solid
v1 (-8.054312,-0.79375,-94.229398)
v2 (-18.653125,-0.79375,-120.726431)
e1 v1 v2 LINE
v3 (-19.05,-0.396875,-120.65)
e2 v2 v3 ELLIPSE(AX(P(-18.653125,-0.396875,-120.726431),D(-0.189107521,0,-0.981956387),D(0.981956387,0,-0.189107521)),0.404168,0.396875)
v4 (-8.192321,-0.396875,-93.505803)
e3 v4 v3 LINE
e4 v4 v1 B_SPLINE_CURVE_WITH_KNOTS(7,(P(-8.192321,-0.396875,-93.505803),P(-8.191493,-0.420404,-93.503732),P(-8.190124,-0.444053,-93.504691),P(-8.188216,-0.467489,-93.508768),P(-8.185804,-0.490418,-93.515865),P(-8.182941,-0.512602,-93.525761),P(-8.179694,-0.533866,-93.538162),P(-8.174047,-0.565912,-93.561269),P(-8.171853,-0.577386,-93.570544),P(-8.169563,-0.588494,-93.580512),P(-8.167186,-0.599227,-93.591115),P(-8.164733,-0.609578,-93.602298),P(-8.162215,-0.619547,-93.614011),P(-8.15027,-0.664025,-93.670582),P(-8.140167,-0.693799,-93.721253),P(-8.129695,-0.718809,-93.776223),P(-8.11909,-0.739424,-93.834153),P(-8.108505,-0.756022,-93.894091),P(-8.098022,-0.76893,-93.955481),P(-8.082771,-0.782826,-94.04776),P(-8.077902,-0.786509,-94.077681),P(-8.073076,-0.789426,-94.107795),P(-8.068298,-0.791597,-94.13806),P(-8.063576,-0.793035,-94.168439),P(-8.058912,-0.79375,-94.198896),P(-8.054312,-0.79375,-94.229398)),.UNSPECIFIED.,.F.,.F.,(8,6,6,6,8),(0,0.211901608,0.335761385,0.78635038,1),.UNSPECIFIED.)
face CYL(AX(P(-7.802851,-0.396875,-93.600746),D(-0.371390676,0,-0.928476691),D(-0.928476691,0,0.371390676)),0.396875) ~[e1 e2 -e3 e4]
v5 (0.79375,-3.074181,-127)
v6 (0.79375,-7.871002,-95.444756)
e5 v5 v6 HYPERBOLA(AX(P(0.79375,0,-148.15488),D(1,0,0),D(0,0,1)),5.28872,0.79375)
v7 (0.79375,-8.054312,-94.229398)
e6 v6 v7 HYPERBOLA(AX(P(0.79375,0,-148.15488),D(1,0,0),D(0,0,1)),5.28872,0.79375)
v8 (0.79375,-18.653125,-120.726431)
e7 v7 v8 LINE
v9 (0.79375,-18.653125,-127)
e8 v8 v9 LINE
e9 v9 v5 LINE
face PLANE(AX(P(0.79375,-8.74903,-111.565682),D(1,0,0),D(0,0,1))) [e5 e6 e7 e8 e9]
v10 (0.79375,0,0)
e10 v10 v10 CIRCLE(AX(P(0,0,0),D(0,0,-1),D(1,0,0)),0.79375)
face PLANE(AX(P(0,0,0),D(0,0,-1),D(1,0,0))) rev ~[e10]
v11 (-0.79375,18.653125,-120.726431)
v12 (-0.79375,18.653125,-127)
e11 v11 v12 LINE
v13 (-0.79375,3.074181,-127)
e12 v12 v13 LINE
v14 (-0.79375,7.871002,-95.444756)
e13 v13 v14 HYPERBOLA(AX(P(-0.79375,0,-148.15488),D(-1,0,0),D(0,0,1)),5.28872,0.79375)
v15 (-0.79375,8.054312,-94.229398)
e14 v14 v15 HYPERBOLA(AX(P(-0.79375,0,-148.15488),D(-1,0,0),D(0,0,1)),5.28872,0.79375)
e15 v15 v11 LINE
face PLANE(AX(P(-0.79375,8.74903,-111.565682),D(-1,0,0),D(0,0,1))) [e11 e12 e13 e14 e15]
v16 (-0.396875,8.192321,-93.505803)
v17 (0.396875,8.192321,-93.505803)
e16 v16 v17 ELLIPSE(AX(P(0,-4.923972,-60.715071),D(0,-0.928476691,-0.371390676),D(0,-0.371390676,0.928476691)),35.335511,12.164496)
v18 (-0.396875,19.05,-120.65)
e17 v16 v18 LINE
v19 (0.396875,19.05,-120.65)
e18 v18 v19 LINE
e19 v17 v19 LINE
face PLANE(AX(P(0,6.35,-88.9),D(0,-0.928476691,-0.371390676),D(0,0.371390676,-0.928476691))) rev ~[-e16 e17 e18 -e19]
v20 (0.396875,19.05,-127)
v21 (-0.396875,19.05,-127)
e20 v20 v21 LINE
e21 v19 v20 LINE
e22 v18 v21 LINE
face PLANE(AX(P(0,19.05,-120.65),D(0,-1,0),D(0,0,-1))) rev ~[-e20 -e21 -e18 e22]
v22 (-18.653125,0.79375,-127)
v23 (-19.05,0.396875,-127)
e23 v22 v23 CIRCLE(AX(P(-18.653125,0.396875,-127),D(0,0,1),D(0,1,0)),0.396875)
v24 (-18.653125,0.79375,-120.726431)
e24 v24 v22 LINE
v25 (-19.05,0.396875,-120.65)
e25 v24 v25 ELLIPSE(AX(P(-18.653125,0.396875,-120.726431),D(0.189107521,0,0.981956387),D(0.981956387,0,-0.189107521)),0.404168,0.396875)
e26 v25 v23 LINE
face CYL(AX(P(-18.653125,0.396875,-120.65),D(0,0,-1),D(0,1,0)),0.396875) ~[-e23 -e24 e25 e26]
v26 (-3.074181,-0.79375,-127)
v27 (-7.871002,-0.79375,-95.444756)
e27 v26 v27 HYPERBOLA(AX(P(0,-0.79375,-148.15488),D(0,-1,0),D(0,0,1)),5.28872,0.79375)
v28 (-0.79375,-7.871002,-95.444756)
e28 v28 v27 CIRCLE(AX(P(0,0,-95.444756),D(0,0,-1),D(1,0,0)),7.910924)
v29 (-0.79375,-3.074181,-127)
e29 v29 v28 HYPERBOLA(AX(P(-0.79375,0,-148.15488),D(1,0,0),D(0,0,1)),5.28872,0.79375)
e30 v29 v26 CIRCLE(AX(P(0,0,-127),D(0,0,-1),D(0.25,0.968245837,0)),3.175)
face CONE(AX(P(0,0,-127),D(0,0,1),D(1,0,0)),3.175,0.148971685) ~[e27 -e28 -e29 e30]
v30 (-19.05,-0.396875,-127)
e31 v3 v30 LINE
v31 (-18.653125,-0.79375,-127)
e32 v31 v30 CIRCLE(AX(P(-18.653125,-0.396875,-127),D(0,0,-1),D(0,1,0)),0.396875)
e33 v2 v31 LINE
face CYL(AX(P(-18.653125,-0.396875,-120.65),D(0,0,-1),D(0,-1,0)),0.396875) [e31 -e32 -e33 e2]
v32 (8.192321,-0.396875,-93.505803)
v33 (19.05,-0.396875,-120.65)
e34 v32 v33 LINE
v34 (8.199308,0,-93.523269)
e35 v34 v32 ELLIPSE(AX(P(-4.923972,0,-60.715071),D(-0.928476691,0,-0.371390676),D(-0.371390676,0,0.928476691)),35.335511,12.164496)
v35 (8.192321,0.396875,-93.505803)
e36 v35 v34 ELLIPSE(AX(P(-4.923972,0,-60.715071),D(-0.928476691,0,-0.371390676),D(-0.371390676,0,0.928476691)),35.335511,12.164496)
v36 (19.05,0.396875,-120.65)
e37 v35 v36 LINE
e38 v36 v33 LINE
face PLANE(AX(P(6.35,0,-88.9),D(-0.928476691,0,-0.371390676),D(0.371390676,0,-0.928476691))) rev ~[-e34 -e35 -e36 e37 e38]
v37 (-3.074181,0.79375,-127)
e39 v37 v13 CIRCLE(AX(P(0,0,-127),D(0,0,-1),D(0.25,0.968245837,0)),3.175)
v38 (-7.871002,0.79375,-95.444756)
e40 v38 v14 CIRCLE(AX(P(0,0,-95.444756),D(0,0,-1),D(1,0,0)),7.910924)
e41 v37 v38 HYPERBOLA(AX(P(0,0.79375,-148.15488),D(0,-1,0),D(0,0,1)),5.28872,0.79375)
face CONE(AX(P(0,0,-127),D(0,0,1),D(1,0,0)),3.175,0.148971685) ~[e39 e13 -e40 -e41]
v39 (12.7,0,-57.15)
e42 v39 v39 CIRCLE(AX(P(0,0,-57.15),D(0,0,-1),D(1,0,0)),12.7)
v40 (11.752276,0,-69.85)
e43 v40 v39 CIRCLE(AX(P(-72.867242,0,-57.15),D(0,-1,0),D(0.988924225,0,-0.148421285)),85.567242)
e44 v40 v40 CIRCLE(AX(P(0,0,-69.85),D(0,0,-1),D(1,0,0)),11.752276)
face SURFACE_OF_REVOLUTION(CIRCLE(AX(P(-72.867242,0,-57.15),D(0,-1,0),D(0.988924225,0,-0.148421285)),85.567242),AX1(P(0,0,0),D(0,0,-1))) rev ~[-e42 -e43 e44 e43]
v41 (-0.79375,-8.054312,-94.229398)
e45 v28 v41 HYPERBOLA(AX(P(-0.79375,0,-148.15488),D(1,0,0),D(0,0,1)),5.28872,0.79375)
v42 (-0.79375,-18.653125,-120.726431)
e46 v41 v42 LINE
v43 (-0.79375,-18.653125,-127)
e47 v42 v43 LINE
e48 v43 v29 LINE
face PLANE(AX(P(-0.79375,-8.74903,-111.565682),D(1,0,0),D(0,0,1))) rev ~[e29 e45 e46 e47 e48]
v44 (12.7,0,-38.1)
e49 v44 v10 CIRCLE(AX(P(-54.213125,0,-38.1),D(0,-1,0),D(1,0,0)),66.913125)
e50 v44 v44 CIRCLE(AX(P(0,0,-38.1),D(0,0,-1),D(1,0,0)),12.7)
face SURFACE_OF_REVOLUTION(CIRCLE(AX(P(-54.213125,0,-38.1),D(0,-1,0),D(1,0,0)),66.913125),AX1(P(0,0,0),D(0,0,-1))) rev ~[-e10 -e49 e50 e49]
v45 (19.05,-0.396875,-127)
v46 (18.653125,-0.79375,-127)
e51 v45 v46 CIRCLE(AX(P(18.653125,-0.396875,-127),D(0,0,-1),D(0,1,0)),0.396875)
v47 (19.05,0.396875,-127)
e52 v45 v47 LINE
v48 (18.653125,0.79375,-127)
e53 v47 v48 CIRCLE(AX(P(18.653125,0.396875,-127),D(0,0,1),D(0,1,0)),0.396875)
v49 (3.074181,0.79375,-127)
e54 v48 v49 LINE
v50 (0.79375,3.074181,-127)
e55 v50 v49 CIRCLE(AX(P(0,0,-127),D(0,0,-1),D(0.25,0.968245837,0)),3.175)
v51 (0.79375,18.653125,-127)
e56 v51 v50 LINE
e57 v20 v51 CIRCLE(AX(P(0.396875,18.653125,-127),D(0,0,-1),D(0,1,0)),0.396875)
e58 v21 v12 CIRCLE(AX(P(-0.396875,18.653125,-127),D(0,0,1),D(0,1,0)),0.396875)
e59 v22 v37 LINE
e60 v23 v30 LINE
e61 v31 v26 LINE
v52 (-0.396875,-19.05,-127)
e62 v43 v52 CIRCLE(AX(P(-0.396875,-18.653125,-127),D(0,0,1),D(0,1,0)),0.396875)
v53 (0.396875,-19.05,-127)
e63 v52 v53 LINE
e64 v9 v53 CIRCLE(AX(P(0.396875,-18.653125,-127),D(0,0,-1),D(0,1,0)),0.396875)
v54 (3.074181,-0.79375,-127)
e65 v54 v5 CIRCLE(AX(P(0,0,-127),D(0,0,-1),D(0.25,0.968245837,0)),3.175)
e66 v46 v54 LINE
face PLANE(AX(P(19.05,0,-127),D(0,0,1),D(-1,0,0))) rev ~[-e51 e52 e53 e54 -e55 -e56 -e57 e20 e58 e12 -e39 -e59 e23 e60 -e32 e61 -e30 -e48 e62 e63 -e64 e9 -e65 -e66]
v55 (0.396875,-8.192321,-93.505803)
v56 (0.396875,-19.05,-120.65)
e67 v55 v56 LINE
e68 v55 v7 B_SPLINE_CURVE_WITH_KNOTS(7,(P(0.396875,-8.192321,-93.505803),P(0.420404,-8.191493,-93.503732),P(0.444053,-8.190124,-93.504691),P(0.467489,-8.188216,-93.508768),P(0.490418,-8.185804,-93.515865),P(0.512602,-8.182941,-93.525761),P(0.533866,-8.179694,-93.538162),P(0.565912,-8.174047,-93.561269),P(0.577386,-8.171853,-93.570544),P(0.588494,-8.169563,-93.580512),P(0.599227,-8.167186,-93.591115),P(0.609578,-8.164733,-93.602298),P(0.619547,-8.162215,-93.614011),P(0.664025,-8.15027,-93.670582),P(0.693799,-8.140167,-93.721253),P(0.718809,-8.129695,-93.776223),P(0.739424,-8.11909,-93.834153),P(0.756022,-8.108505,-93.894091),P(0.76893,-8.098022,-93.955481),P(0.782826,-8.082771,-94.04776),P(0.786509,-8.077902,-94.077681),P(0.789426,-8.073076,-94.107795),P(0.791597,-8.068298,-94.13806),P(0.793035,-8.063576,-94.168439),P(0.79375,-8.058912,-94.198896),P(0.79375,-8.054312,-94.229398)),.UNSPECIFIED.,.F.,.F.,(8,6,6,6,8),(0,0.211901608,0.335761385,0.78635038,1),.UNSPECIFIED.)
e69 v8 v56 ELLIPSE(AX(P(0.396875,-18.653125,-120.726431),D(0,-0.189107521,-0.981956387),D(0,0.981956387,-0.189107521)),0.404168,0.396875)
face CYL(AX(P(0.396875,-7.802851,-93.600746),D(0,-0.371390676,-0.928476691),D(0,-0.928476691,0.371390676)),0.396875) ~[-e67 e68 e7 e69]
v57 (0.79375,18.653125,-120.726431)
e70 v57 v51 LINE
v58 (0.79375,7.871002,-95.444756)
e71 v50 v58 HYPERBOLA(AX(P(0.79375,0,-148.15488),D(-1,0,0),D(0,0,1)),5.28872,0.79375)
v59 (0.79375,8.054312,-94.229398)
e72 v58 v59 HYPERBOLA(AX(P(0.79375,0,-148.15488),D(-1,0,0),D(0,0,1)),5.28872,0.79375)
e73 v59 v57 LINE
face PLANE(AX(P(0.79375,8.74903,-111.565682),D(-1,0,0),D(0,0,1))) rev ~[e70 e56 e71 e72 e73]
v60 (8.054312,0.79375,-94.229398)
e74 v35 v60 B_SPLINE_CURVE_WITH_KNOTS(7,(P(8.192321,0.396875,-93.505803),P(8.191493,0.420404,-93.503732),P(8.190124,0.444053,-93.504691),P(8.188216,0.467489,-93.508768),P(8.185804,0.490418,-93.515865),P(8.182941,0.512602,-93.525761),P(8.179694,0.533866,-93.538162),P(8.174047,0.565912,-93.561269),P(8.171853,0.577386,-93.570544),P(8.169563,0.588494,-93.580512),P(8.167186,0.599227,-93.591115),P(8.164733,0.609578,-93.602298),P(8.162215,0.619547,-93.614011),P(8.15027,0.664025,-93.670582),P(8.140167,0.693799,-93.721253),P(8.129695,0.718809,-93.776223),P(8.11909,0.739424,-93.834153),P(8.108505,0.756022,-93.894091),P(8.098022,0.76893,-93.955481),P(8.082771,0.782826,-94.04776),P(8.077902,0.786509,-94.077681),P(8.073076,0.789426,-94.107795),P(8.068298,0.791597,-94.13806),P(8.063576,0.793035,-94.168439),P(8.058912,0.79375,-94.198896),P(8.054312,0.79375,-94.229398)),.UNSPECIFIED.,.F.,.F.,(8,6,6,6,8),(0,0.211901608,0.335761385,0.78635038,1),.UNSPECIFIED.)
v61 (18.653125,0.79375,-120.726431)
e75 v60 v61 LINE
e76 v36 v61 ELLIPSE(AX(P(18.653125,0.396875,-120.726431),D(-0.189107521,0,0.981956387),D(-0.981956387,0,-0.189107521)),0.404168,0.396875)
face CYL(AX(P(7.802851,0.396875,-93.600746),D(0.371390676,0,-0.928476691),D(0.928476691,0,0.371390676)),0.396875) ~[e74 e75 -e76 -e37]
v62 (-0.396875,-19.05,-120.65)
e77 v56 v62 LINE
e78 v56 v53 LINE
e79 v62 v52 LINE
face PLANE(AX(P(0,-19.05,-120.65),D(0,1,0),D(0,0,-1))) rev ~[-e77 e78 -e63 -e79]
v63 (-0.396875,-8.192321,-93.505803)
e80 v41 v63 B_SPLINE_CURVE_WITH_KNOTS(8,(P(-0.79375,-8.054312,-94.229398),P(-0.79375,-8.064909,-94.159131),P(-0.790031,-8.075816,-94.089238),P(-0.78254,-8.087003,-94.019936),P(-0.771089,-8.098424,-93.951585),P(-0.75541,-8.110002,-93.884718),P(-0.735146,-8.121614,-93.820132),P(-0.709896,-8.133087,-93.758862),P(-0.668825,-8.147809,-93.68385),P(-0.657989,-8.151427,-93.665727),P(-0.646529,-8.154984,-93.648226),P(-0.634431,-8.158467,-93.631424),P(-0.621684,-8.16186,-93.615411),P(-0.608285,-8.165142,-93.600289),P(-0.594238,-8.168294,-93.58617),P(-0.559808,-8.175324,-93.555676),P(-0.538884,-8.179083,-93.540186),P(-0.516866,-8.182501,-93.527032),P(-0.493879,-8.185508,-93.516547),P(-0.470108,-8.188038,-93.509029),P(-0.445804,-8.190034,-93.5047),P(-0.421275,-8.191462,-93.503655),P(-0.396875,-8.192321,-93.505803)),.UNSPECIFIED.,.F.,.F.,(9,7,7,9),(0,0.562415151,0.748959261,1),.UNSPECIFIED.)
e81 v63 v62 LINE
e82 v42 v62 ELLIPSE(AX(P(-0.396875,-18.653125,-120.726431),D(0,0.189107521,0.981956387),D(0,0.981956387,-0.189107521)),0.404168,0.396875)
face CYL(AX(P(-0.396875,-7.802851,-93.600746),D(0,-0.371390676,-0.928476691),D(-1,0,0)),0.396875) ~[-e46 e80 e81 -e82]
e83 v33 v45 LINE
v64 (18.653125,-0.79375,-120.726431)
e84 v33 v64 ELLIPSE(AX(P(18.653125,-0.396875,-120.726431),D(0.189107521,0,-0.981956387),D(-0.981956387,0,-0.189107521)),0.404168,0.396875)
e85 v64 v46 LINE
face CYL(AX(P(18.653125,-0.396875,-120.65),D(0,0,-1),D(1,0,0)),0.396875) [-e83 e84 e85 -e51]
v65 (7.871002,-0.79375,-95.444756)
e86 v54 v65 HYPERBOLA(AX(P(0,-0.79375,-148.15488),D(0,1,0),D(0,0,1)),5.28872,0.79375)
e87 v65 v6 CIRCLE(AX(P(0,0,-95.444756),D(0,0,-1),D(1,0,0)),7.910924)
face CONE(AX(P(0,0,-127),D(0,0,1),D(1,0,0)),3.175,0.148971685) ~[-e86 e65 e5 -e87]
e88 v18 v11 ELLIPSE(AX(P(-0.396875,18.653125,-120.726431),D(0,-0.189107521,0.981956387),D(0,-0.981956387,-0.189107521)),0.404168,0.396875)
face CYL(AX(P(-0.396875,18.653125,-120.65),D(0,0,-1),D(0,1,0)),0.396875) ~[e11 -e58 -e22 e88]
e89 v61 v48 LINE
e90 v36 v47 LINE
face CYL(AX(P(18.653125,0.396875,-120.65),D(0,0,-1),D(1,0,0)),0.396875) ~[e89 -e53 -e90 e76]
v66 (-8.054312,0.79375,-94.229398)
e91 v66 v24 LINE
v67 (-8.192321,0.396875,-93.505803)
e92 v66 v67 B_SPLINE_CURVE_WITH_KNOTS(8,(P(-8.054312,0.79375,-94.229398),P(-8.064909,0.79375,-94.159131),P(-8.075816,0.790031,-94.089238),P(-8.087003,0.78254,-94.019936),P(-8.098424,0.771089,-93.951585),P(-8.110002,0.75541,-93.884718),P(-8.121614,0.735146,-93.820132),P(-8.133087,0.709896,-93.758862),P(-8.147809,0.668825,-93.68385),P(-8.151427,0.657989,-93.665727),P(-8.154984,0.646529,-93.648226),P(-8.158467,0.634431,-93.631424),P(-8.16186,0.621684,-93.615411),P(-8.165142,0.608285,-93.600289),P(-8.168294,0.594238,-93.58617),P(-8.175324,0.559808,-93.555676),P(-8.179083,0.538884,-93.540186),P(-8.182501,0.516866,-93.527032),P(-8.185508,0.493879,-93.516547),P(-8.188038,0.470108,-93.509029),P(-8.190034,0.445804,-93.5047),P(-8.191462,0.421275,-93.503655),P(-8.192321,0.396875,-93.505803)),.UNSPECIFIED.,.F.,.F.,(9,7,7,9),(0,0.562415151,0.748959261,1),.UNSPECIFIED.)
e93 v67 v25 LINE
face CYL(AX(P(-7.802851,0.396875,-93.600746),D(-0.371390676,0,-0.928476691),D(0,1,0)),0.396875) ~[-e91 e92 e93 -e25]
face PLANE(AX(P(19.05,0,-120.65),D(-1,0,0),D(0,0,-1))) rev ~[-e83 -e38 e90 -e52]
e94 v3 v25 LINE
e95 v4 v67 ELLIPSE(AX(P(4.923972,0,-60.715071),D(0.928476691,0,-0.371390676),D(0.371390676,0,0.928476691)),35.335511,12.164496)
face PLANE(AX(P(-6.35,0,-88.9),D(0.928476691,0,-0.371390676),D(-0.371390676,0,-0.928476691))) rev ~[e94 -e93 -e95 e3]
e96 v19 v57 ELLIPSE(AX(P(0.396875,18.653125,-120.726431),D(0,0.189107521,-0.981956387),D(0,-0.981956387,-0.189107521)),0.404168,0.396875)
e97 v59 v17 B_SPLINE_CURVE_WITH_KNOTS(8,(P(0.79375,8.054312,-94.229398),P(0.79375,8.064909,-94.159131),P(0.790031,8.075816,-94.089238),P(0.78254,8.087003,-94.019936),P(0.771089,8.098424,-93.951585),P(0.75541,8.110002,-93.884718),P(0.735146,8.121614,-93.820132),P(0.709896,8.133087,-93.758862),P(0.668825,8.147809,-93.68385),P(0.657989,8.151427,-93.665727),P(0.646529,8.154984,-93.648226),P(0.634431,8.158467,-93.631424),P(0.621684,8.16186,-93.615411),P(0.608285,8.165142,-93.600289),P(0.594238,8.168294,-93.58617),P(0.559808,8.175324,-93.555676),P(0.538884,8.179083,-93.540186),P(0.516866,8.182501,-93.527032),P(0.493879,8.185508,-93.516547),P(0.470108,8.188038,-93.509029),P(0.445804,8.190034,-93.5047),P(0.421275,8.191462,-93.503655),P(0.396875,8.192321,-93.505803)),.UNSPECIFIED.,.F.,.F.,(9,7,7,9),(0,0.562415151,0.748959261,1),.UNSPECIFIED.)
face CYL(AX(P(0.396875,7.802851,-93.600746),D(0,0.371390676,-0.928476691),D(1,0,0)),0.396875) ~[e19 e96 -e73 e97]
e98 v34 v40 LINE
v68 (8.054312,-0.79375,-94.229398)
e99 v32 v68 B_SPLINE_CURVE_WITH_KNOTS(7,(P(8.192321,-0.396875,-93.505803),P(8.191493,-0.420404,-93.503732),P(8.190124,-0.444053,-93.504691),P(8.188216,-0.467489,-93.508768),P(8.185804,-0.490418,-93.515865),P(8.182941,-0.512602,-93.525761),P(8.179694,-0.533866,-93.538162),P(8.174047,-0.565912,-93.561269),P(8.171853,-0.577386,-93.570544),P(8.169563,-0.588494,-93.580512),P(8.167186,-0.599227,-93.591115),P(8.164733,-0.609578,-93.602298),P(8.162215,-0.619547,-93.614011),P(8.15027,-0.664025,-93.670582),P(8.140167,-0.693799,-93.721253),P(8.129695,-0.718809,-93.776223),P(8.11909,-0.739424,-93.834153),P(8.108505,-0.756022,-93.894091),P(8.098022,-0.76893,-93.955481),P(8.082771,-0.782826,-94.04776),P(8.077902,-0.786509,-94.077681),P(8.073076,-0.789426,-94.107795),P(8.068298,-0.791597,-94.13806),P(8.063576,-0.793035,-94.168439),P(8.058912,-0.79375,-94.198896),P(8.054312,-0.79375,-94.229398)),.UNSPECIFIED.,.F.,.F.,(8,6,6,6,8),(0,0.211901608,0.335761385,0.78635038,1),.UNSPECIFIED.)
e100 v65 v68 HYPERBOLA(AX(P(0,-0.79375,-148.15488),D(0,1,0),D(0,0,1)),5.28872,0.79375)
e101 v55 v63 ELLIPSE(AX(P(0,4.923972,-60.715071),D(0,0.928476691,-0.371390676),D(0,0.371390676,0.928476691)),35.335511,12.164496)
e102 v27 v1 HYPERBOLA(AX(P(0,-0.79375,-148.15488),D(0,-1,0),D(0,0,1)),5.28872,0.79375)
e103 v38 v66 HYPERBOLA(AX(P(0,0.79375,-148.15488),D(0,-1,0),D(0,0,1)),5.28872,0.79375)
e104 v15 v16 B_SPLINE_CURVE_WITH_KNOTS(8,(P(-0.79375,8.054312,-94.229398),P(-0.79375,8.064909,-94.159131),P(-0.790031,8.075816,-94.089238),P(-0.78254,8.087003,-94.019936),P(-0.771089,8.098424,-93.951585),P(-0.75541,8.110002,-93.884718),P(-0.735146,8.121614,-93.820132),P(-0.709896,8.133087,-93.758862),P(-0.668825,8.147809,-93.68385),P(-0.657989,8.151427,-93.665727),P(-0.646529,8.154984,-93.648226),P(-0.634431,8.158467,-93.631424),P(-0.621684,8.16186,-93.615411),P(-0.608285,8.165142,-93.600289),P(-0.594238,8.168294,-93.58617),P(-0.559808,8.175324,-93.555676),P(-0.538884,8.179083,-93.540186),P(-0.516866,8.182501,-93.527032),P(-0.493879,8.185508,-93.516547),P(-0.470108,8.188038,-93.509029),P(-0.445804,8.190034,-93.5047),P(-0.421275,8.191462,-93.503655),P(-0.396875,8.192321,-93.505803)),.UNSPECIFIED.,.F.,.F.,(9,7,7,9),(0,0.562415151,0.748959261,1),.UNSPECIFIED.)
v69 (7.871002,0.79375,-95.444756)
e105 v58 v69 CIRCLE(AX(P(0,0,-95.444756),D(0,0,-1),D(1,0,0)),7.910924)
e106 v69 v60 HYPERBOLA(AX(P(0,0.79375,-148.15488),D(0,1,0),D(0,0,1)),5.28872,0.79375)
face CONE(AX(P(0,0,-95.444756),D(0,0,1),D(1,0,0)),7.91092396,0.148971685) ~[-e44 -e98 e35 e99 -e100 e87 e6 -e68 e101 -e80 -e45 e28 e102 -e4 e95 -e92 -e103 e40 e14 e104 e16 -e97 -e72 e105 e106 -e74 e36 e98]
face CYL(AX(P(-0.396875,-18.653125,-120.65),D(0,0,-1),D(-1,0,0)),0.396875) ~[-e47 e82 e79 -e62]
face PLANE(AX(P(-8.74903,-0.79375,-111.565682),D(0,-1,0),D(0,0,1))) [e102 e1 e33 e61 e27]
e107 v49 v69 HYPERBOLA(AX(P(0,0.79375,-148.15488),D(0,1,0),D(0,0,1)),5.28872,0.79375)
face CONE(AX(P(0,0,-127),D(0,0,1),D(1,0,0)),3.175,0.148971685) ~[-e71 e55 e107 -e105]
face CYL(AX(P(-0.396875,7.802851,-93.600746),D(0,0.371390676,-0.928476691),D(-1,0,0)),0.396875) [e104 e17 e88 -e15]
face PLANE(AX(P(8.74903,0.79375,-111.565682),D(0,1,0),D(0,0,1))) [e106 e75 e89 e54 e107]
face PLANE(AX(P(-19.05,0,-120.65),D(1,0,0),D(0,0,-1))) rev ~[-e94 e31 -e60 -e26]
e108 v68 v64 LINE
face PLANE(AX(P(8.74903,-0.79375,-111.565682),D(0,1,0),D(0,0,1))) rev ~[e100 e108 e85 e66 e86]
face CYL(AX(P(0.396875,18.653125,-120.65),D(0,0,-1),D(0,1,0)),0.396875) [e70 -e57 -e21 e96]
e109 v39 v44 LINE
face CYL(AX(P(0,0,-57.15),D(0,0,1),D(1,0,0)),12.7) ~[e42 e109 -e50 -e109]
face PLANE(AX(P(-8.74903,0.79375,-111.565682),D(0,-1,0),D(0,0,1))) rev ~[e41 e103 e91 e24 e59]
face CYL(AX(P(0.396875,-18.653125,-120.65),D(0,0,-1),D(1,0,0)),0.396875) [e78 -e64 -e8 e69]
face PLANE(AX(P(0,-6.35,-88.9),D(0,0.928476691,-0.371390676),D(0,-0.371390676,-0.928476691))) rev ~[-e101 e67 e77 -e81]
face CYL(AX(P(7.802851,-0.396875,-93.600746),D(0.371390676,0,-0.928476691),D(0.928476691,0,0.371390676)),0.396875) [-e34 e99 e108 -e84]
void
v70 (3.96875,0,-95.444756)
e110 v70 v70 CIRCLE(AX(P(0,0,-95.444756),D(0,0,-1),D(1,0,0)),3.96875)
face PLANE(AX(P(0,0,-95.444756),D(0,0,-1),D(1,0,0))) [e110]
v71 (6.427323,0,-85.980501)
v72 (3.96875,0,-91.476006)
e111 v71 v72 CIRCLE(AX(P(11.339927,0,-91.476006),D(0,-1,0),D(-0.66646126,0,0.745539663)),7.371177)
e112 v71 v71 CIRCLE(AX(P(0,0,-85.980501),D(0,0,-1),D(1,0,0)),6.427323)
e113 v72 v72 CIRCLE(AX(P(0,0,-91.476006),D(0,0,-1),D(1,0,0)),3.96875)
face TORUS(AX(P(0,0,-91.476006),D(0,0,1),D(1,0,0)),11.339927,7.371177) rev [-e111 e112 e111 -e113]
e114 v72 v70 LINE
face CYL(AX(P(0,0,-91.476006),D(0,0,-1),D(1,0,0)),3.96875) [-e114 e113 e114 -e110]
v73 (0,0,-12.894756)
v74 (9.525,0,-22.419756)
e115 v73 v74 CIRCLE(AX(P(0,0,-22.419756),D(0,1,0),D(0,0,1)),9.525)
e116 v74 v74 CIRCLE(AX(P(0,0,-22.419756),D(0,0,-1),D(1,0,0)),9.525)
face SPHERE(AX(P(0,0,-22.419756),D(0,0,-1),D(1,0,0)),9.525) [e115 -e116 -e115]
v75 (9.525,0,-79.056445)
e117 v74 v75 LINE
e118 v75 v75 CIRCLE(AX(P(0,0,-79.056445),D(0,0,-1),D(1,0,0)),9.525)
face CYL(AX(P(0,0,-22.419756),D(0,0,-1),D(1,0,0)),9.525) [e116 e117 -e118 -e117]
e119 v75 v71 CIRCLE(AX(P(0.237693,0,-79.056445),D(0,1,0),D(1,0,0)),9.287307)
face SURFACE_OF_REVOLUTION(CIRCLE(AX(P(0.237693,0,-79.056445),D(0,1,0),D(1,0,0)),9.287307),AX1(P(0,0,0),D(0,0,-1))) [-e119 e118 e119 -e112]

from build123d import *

# Parameters (mm, degrees)
BOSS_EXTRUDE2_DEPTH      = 0.79375
FILLET2_R                = 0.396875
CIRPATTERN5_COUNT        = 4
FILLET2_OF_CIRPATTERN5_R = 0.396875


with BuildPart() as part:
    # Sketch3 → Revolve2 (revolve)
    with BuildSketch(Plane(origin=(0, 0, 0), x_dir=(0, 0, -1), z_dir=(1, 0, 0)), mode=Mode.PRIVATE) as revolve2_sk:
        Polygon((95.444755644, 3.96875), (95.444755644, 0), (127, 0), (127, 3.175), (95.444755644, 7.91092396), align=None)
        with BuildLine():
            Line((0, 0.79375), (0, 0))
            Line((0, 0), (12.894755644, 0))
            ThreePointArc((12.894755644, 0), (15.684563553, 6.735192091), (22.419755644, 9.525))
            Line((22.419755644, 9.525), (79.056444567, 9.525))
            ThreePointArc((79.056444567, 9.525), (82.84913995, 8.715283085), (85.98050057, 6.427323204))
            ThreePointArc((85.98050057, 6.427323204), (88.46580805, 4.611408496), (91.476005644, 3.96875))
            Line((91.476005644, 3.96875), (95.444755644, 3.96875))
            Line((95.444755644, 3.96875), (95.444755644, 7.91092396))
            Line((95.444755644, 7.91092396), (69.85, 11.752276451))
            ThreePointArc((69.85, 11.752276451), (63.517656161, 12.462740177), (57.15, 12.7))
            Line((57.15, 12.7), (38.1, 12.7))
            ThreePointArc((38.1, 12.7), (18.1414881, 9.65411308), (0, 0.79375))
        make_face()
    revolve(revolve2_sk.sketch.rotate(Axis((0, 0, 0), (0, 0, -1)), 90), axis=Axis((0, 0, 0), (0, 0, -1)))

    # Sketch5 → Boss-Extrude2 (add, symmetric)
    with BuildSketch(Plane(origin=(0, 0, 0), x_dir=(0, 0, -1), z_dir=(1, 0, 0))):
        Polygon((120.65, 19.05), (127, 19.05), (127, 0), (88.9, 6.35), align=None)
    boss_extrude2 = extrude(amount=BOSS_EXTRUDE2_DEPTH, both=True)

    # Fillet2
    fillet2_edges = [part.edges().sort_by_distance(p)[0] for p in [
        (-0.79375, 19.05, -123.825),
        (0.79375, 19.05, -123.825),
        (-0.79375, 13.61067, -107.051675),
        (0.79375, 13.61067, -107.051675),
    ]]
    fillet(fillet2_edges, radius=FILLET2_R)

    # CirPattern5: Boss-Extrude2 ×4 about axis
    cirpattern5_axis = Axis((0, 0, 0), (0, 0, 1))
    for i in range(1, CIRPATTERN5_COUNT):
        add(boss_extrude2.rotate(cirpattern5_axis, i * 360 / CIRPATTERN5_COUNT))

    # Fillet2 of CirPattern5
    fillet2_of_cirpattern5_edges = [part.edges().sort_by_distance(p)[0] for p in [
        (-19.05, -0.79375, -123.825),
        (-19.05, 0.79375, -123.825),
        (-13.61067, -0.79375, -107.051675),
        (-13.61067, 0.79375, -107.051675),
        (0.79375, -19.05, -123.825),
        (-0.79375, -19.05, -123.825),
        (0.79375, -13.61067, -107.051675),
        (-0.79375, -13.61067, -107.051675),
        (19.05, 0.79375, -123.825),
        (19.05, -0.79375, -123.825),
        (13.61067, 0.79375, -107.051675),
        (13.61067, -0.79375, -107.051675),
    ]]
    fillet(fillet2_of_cirpattern5_edges, radius=FILLET2_OF_CIRPATTERN5_R)


solid = part.part
